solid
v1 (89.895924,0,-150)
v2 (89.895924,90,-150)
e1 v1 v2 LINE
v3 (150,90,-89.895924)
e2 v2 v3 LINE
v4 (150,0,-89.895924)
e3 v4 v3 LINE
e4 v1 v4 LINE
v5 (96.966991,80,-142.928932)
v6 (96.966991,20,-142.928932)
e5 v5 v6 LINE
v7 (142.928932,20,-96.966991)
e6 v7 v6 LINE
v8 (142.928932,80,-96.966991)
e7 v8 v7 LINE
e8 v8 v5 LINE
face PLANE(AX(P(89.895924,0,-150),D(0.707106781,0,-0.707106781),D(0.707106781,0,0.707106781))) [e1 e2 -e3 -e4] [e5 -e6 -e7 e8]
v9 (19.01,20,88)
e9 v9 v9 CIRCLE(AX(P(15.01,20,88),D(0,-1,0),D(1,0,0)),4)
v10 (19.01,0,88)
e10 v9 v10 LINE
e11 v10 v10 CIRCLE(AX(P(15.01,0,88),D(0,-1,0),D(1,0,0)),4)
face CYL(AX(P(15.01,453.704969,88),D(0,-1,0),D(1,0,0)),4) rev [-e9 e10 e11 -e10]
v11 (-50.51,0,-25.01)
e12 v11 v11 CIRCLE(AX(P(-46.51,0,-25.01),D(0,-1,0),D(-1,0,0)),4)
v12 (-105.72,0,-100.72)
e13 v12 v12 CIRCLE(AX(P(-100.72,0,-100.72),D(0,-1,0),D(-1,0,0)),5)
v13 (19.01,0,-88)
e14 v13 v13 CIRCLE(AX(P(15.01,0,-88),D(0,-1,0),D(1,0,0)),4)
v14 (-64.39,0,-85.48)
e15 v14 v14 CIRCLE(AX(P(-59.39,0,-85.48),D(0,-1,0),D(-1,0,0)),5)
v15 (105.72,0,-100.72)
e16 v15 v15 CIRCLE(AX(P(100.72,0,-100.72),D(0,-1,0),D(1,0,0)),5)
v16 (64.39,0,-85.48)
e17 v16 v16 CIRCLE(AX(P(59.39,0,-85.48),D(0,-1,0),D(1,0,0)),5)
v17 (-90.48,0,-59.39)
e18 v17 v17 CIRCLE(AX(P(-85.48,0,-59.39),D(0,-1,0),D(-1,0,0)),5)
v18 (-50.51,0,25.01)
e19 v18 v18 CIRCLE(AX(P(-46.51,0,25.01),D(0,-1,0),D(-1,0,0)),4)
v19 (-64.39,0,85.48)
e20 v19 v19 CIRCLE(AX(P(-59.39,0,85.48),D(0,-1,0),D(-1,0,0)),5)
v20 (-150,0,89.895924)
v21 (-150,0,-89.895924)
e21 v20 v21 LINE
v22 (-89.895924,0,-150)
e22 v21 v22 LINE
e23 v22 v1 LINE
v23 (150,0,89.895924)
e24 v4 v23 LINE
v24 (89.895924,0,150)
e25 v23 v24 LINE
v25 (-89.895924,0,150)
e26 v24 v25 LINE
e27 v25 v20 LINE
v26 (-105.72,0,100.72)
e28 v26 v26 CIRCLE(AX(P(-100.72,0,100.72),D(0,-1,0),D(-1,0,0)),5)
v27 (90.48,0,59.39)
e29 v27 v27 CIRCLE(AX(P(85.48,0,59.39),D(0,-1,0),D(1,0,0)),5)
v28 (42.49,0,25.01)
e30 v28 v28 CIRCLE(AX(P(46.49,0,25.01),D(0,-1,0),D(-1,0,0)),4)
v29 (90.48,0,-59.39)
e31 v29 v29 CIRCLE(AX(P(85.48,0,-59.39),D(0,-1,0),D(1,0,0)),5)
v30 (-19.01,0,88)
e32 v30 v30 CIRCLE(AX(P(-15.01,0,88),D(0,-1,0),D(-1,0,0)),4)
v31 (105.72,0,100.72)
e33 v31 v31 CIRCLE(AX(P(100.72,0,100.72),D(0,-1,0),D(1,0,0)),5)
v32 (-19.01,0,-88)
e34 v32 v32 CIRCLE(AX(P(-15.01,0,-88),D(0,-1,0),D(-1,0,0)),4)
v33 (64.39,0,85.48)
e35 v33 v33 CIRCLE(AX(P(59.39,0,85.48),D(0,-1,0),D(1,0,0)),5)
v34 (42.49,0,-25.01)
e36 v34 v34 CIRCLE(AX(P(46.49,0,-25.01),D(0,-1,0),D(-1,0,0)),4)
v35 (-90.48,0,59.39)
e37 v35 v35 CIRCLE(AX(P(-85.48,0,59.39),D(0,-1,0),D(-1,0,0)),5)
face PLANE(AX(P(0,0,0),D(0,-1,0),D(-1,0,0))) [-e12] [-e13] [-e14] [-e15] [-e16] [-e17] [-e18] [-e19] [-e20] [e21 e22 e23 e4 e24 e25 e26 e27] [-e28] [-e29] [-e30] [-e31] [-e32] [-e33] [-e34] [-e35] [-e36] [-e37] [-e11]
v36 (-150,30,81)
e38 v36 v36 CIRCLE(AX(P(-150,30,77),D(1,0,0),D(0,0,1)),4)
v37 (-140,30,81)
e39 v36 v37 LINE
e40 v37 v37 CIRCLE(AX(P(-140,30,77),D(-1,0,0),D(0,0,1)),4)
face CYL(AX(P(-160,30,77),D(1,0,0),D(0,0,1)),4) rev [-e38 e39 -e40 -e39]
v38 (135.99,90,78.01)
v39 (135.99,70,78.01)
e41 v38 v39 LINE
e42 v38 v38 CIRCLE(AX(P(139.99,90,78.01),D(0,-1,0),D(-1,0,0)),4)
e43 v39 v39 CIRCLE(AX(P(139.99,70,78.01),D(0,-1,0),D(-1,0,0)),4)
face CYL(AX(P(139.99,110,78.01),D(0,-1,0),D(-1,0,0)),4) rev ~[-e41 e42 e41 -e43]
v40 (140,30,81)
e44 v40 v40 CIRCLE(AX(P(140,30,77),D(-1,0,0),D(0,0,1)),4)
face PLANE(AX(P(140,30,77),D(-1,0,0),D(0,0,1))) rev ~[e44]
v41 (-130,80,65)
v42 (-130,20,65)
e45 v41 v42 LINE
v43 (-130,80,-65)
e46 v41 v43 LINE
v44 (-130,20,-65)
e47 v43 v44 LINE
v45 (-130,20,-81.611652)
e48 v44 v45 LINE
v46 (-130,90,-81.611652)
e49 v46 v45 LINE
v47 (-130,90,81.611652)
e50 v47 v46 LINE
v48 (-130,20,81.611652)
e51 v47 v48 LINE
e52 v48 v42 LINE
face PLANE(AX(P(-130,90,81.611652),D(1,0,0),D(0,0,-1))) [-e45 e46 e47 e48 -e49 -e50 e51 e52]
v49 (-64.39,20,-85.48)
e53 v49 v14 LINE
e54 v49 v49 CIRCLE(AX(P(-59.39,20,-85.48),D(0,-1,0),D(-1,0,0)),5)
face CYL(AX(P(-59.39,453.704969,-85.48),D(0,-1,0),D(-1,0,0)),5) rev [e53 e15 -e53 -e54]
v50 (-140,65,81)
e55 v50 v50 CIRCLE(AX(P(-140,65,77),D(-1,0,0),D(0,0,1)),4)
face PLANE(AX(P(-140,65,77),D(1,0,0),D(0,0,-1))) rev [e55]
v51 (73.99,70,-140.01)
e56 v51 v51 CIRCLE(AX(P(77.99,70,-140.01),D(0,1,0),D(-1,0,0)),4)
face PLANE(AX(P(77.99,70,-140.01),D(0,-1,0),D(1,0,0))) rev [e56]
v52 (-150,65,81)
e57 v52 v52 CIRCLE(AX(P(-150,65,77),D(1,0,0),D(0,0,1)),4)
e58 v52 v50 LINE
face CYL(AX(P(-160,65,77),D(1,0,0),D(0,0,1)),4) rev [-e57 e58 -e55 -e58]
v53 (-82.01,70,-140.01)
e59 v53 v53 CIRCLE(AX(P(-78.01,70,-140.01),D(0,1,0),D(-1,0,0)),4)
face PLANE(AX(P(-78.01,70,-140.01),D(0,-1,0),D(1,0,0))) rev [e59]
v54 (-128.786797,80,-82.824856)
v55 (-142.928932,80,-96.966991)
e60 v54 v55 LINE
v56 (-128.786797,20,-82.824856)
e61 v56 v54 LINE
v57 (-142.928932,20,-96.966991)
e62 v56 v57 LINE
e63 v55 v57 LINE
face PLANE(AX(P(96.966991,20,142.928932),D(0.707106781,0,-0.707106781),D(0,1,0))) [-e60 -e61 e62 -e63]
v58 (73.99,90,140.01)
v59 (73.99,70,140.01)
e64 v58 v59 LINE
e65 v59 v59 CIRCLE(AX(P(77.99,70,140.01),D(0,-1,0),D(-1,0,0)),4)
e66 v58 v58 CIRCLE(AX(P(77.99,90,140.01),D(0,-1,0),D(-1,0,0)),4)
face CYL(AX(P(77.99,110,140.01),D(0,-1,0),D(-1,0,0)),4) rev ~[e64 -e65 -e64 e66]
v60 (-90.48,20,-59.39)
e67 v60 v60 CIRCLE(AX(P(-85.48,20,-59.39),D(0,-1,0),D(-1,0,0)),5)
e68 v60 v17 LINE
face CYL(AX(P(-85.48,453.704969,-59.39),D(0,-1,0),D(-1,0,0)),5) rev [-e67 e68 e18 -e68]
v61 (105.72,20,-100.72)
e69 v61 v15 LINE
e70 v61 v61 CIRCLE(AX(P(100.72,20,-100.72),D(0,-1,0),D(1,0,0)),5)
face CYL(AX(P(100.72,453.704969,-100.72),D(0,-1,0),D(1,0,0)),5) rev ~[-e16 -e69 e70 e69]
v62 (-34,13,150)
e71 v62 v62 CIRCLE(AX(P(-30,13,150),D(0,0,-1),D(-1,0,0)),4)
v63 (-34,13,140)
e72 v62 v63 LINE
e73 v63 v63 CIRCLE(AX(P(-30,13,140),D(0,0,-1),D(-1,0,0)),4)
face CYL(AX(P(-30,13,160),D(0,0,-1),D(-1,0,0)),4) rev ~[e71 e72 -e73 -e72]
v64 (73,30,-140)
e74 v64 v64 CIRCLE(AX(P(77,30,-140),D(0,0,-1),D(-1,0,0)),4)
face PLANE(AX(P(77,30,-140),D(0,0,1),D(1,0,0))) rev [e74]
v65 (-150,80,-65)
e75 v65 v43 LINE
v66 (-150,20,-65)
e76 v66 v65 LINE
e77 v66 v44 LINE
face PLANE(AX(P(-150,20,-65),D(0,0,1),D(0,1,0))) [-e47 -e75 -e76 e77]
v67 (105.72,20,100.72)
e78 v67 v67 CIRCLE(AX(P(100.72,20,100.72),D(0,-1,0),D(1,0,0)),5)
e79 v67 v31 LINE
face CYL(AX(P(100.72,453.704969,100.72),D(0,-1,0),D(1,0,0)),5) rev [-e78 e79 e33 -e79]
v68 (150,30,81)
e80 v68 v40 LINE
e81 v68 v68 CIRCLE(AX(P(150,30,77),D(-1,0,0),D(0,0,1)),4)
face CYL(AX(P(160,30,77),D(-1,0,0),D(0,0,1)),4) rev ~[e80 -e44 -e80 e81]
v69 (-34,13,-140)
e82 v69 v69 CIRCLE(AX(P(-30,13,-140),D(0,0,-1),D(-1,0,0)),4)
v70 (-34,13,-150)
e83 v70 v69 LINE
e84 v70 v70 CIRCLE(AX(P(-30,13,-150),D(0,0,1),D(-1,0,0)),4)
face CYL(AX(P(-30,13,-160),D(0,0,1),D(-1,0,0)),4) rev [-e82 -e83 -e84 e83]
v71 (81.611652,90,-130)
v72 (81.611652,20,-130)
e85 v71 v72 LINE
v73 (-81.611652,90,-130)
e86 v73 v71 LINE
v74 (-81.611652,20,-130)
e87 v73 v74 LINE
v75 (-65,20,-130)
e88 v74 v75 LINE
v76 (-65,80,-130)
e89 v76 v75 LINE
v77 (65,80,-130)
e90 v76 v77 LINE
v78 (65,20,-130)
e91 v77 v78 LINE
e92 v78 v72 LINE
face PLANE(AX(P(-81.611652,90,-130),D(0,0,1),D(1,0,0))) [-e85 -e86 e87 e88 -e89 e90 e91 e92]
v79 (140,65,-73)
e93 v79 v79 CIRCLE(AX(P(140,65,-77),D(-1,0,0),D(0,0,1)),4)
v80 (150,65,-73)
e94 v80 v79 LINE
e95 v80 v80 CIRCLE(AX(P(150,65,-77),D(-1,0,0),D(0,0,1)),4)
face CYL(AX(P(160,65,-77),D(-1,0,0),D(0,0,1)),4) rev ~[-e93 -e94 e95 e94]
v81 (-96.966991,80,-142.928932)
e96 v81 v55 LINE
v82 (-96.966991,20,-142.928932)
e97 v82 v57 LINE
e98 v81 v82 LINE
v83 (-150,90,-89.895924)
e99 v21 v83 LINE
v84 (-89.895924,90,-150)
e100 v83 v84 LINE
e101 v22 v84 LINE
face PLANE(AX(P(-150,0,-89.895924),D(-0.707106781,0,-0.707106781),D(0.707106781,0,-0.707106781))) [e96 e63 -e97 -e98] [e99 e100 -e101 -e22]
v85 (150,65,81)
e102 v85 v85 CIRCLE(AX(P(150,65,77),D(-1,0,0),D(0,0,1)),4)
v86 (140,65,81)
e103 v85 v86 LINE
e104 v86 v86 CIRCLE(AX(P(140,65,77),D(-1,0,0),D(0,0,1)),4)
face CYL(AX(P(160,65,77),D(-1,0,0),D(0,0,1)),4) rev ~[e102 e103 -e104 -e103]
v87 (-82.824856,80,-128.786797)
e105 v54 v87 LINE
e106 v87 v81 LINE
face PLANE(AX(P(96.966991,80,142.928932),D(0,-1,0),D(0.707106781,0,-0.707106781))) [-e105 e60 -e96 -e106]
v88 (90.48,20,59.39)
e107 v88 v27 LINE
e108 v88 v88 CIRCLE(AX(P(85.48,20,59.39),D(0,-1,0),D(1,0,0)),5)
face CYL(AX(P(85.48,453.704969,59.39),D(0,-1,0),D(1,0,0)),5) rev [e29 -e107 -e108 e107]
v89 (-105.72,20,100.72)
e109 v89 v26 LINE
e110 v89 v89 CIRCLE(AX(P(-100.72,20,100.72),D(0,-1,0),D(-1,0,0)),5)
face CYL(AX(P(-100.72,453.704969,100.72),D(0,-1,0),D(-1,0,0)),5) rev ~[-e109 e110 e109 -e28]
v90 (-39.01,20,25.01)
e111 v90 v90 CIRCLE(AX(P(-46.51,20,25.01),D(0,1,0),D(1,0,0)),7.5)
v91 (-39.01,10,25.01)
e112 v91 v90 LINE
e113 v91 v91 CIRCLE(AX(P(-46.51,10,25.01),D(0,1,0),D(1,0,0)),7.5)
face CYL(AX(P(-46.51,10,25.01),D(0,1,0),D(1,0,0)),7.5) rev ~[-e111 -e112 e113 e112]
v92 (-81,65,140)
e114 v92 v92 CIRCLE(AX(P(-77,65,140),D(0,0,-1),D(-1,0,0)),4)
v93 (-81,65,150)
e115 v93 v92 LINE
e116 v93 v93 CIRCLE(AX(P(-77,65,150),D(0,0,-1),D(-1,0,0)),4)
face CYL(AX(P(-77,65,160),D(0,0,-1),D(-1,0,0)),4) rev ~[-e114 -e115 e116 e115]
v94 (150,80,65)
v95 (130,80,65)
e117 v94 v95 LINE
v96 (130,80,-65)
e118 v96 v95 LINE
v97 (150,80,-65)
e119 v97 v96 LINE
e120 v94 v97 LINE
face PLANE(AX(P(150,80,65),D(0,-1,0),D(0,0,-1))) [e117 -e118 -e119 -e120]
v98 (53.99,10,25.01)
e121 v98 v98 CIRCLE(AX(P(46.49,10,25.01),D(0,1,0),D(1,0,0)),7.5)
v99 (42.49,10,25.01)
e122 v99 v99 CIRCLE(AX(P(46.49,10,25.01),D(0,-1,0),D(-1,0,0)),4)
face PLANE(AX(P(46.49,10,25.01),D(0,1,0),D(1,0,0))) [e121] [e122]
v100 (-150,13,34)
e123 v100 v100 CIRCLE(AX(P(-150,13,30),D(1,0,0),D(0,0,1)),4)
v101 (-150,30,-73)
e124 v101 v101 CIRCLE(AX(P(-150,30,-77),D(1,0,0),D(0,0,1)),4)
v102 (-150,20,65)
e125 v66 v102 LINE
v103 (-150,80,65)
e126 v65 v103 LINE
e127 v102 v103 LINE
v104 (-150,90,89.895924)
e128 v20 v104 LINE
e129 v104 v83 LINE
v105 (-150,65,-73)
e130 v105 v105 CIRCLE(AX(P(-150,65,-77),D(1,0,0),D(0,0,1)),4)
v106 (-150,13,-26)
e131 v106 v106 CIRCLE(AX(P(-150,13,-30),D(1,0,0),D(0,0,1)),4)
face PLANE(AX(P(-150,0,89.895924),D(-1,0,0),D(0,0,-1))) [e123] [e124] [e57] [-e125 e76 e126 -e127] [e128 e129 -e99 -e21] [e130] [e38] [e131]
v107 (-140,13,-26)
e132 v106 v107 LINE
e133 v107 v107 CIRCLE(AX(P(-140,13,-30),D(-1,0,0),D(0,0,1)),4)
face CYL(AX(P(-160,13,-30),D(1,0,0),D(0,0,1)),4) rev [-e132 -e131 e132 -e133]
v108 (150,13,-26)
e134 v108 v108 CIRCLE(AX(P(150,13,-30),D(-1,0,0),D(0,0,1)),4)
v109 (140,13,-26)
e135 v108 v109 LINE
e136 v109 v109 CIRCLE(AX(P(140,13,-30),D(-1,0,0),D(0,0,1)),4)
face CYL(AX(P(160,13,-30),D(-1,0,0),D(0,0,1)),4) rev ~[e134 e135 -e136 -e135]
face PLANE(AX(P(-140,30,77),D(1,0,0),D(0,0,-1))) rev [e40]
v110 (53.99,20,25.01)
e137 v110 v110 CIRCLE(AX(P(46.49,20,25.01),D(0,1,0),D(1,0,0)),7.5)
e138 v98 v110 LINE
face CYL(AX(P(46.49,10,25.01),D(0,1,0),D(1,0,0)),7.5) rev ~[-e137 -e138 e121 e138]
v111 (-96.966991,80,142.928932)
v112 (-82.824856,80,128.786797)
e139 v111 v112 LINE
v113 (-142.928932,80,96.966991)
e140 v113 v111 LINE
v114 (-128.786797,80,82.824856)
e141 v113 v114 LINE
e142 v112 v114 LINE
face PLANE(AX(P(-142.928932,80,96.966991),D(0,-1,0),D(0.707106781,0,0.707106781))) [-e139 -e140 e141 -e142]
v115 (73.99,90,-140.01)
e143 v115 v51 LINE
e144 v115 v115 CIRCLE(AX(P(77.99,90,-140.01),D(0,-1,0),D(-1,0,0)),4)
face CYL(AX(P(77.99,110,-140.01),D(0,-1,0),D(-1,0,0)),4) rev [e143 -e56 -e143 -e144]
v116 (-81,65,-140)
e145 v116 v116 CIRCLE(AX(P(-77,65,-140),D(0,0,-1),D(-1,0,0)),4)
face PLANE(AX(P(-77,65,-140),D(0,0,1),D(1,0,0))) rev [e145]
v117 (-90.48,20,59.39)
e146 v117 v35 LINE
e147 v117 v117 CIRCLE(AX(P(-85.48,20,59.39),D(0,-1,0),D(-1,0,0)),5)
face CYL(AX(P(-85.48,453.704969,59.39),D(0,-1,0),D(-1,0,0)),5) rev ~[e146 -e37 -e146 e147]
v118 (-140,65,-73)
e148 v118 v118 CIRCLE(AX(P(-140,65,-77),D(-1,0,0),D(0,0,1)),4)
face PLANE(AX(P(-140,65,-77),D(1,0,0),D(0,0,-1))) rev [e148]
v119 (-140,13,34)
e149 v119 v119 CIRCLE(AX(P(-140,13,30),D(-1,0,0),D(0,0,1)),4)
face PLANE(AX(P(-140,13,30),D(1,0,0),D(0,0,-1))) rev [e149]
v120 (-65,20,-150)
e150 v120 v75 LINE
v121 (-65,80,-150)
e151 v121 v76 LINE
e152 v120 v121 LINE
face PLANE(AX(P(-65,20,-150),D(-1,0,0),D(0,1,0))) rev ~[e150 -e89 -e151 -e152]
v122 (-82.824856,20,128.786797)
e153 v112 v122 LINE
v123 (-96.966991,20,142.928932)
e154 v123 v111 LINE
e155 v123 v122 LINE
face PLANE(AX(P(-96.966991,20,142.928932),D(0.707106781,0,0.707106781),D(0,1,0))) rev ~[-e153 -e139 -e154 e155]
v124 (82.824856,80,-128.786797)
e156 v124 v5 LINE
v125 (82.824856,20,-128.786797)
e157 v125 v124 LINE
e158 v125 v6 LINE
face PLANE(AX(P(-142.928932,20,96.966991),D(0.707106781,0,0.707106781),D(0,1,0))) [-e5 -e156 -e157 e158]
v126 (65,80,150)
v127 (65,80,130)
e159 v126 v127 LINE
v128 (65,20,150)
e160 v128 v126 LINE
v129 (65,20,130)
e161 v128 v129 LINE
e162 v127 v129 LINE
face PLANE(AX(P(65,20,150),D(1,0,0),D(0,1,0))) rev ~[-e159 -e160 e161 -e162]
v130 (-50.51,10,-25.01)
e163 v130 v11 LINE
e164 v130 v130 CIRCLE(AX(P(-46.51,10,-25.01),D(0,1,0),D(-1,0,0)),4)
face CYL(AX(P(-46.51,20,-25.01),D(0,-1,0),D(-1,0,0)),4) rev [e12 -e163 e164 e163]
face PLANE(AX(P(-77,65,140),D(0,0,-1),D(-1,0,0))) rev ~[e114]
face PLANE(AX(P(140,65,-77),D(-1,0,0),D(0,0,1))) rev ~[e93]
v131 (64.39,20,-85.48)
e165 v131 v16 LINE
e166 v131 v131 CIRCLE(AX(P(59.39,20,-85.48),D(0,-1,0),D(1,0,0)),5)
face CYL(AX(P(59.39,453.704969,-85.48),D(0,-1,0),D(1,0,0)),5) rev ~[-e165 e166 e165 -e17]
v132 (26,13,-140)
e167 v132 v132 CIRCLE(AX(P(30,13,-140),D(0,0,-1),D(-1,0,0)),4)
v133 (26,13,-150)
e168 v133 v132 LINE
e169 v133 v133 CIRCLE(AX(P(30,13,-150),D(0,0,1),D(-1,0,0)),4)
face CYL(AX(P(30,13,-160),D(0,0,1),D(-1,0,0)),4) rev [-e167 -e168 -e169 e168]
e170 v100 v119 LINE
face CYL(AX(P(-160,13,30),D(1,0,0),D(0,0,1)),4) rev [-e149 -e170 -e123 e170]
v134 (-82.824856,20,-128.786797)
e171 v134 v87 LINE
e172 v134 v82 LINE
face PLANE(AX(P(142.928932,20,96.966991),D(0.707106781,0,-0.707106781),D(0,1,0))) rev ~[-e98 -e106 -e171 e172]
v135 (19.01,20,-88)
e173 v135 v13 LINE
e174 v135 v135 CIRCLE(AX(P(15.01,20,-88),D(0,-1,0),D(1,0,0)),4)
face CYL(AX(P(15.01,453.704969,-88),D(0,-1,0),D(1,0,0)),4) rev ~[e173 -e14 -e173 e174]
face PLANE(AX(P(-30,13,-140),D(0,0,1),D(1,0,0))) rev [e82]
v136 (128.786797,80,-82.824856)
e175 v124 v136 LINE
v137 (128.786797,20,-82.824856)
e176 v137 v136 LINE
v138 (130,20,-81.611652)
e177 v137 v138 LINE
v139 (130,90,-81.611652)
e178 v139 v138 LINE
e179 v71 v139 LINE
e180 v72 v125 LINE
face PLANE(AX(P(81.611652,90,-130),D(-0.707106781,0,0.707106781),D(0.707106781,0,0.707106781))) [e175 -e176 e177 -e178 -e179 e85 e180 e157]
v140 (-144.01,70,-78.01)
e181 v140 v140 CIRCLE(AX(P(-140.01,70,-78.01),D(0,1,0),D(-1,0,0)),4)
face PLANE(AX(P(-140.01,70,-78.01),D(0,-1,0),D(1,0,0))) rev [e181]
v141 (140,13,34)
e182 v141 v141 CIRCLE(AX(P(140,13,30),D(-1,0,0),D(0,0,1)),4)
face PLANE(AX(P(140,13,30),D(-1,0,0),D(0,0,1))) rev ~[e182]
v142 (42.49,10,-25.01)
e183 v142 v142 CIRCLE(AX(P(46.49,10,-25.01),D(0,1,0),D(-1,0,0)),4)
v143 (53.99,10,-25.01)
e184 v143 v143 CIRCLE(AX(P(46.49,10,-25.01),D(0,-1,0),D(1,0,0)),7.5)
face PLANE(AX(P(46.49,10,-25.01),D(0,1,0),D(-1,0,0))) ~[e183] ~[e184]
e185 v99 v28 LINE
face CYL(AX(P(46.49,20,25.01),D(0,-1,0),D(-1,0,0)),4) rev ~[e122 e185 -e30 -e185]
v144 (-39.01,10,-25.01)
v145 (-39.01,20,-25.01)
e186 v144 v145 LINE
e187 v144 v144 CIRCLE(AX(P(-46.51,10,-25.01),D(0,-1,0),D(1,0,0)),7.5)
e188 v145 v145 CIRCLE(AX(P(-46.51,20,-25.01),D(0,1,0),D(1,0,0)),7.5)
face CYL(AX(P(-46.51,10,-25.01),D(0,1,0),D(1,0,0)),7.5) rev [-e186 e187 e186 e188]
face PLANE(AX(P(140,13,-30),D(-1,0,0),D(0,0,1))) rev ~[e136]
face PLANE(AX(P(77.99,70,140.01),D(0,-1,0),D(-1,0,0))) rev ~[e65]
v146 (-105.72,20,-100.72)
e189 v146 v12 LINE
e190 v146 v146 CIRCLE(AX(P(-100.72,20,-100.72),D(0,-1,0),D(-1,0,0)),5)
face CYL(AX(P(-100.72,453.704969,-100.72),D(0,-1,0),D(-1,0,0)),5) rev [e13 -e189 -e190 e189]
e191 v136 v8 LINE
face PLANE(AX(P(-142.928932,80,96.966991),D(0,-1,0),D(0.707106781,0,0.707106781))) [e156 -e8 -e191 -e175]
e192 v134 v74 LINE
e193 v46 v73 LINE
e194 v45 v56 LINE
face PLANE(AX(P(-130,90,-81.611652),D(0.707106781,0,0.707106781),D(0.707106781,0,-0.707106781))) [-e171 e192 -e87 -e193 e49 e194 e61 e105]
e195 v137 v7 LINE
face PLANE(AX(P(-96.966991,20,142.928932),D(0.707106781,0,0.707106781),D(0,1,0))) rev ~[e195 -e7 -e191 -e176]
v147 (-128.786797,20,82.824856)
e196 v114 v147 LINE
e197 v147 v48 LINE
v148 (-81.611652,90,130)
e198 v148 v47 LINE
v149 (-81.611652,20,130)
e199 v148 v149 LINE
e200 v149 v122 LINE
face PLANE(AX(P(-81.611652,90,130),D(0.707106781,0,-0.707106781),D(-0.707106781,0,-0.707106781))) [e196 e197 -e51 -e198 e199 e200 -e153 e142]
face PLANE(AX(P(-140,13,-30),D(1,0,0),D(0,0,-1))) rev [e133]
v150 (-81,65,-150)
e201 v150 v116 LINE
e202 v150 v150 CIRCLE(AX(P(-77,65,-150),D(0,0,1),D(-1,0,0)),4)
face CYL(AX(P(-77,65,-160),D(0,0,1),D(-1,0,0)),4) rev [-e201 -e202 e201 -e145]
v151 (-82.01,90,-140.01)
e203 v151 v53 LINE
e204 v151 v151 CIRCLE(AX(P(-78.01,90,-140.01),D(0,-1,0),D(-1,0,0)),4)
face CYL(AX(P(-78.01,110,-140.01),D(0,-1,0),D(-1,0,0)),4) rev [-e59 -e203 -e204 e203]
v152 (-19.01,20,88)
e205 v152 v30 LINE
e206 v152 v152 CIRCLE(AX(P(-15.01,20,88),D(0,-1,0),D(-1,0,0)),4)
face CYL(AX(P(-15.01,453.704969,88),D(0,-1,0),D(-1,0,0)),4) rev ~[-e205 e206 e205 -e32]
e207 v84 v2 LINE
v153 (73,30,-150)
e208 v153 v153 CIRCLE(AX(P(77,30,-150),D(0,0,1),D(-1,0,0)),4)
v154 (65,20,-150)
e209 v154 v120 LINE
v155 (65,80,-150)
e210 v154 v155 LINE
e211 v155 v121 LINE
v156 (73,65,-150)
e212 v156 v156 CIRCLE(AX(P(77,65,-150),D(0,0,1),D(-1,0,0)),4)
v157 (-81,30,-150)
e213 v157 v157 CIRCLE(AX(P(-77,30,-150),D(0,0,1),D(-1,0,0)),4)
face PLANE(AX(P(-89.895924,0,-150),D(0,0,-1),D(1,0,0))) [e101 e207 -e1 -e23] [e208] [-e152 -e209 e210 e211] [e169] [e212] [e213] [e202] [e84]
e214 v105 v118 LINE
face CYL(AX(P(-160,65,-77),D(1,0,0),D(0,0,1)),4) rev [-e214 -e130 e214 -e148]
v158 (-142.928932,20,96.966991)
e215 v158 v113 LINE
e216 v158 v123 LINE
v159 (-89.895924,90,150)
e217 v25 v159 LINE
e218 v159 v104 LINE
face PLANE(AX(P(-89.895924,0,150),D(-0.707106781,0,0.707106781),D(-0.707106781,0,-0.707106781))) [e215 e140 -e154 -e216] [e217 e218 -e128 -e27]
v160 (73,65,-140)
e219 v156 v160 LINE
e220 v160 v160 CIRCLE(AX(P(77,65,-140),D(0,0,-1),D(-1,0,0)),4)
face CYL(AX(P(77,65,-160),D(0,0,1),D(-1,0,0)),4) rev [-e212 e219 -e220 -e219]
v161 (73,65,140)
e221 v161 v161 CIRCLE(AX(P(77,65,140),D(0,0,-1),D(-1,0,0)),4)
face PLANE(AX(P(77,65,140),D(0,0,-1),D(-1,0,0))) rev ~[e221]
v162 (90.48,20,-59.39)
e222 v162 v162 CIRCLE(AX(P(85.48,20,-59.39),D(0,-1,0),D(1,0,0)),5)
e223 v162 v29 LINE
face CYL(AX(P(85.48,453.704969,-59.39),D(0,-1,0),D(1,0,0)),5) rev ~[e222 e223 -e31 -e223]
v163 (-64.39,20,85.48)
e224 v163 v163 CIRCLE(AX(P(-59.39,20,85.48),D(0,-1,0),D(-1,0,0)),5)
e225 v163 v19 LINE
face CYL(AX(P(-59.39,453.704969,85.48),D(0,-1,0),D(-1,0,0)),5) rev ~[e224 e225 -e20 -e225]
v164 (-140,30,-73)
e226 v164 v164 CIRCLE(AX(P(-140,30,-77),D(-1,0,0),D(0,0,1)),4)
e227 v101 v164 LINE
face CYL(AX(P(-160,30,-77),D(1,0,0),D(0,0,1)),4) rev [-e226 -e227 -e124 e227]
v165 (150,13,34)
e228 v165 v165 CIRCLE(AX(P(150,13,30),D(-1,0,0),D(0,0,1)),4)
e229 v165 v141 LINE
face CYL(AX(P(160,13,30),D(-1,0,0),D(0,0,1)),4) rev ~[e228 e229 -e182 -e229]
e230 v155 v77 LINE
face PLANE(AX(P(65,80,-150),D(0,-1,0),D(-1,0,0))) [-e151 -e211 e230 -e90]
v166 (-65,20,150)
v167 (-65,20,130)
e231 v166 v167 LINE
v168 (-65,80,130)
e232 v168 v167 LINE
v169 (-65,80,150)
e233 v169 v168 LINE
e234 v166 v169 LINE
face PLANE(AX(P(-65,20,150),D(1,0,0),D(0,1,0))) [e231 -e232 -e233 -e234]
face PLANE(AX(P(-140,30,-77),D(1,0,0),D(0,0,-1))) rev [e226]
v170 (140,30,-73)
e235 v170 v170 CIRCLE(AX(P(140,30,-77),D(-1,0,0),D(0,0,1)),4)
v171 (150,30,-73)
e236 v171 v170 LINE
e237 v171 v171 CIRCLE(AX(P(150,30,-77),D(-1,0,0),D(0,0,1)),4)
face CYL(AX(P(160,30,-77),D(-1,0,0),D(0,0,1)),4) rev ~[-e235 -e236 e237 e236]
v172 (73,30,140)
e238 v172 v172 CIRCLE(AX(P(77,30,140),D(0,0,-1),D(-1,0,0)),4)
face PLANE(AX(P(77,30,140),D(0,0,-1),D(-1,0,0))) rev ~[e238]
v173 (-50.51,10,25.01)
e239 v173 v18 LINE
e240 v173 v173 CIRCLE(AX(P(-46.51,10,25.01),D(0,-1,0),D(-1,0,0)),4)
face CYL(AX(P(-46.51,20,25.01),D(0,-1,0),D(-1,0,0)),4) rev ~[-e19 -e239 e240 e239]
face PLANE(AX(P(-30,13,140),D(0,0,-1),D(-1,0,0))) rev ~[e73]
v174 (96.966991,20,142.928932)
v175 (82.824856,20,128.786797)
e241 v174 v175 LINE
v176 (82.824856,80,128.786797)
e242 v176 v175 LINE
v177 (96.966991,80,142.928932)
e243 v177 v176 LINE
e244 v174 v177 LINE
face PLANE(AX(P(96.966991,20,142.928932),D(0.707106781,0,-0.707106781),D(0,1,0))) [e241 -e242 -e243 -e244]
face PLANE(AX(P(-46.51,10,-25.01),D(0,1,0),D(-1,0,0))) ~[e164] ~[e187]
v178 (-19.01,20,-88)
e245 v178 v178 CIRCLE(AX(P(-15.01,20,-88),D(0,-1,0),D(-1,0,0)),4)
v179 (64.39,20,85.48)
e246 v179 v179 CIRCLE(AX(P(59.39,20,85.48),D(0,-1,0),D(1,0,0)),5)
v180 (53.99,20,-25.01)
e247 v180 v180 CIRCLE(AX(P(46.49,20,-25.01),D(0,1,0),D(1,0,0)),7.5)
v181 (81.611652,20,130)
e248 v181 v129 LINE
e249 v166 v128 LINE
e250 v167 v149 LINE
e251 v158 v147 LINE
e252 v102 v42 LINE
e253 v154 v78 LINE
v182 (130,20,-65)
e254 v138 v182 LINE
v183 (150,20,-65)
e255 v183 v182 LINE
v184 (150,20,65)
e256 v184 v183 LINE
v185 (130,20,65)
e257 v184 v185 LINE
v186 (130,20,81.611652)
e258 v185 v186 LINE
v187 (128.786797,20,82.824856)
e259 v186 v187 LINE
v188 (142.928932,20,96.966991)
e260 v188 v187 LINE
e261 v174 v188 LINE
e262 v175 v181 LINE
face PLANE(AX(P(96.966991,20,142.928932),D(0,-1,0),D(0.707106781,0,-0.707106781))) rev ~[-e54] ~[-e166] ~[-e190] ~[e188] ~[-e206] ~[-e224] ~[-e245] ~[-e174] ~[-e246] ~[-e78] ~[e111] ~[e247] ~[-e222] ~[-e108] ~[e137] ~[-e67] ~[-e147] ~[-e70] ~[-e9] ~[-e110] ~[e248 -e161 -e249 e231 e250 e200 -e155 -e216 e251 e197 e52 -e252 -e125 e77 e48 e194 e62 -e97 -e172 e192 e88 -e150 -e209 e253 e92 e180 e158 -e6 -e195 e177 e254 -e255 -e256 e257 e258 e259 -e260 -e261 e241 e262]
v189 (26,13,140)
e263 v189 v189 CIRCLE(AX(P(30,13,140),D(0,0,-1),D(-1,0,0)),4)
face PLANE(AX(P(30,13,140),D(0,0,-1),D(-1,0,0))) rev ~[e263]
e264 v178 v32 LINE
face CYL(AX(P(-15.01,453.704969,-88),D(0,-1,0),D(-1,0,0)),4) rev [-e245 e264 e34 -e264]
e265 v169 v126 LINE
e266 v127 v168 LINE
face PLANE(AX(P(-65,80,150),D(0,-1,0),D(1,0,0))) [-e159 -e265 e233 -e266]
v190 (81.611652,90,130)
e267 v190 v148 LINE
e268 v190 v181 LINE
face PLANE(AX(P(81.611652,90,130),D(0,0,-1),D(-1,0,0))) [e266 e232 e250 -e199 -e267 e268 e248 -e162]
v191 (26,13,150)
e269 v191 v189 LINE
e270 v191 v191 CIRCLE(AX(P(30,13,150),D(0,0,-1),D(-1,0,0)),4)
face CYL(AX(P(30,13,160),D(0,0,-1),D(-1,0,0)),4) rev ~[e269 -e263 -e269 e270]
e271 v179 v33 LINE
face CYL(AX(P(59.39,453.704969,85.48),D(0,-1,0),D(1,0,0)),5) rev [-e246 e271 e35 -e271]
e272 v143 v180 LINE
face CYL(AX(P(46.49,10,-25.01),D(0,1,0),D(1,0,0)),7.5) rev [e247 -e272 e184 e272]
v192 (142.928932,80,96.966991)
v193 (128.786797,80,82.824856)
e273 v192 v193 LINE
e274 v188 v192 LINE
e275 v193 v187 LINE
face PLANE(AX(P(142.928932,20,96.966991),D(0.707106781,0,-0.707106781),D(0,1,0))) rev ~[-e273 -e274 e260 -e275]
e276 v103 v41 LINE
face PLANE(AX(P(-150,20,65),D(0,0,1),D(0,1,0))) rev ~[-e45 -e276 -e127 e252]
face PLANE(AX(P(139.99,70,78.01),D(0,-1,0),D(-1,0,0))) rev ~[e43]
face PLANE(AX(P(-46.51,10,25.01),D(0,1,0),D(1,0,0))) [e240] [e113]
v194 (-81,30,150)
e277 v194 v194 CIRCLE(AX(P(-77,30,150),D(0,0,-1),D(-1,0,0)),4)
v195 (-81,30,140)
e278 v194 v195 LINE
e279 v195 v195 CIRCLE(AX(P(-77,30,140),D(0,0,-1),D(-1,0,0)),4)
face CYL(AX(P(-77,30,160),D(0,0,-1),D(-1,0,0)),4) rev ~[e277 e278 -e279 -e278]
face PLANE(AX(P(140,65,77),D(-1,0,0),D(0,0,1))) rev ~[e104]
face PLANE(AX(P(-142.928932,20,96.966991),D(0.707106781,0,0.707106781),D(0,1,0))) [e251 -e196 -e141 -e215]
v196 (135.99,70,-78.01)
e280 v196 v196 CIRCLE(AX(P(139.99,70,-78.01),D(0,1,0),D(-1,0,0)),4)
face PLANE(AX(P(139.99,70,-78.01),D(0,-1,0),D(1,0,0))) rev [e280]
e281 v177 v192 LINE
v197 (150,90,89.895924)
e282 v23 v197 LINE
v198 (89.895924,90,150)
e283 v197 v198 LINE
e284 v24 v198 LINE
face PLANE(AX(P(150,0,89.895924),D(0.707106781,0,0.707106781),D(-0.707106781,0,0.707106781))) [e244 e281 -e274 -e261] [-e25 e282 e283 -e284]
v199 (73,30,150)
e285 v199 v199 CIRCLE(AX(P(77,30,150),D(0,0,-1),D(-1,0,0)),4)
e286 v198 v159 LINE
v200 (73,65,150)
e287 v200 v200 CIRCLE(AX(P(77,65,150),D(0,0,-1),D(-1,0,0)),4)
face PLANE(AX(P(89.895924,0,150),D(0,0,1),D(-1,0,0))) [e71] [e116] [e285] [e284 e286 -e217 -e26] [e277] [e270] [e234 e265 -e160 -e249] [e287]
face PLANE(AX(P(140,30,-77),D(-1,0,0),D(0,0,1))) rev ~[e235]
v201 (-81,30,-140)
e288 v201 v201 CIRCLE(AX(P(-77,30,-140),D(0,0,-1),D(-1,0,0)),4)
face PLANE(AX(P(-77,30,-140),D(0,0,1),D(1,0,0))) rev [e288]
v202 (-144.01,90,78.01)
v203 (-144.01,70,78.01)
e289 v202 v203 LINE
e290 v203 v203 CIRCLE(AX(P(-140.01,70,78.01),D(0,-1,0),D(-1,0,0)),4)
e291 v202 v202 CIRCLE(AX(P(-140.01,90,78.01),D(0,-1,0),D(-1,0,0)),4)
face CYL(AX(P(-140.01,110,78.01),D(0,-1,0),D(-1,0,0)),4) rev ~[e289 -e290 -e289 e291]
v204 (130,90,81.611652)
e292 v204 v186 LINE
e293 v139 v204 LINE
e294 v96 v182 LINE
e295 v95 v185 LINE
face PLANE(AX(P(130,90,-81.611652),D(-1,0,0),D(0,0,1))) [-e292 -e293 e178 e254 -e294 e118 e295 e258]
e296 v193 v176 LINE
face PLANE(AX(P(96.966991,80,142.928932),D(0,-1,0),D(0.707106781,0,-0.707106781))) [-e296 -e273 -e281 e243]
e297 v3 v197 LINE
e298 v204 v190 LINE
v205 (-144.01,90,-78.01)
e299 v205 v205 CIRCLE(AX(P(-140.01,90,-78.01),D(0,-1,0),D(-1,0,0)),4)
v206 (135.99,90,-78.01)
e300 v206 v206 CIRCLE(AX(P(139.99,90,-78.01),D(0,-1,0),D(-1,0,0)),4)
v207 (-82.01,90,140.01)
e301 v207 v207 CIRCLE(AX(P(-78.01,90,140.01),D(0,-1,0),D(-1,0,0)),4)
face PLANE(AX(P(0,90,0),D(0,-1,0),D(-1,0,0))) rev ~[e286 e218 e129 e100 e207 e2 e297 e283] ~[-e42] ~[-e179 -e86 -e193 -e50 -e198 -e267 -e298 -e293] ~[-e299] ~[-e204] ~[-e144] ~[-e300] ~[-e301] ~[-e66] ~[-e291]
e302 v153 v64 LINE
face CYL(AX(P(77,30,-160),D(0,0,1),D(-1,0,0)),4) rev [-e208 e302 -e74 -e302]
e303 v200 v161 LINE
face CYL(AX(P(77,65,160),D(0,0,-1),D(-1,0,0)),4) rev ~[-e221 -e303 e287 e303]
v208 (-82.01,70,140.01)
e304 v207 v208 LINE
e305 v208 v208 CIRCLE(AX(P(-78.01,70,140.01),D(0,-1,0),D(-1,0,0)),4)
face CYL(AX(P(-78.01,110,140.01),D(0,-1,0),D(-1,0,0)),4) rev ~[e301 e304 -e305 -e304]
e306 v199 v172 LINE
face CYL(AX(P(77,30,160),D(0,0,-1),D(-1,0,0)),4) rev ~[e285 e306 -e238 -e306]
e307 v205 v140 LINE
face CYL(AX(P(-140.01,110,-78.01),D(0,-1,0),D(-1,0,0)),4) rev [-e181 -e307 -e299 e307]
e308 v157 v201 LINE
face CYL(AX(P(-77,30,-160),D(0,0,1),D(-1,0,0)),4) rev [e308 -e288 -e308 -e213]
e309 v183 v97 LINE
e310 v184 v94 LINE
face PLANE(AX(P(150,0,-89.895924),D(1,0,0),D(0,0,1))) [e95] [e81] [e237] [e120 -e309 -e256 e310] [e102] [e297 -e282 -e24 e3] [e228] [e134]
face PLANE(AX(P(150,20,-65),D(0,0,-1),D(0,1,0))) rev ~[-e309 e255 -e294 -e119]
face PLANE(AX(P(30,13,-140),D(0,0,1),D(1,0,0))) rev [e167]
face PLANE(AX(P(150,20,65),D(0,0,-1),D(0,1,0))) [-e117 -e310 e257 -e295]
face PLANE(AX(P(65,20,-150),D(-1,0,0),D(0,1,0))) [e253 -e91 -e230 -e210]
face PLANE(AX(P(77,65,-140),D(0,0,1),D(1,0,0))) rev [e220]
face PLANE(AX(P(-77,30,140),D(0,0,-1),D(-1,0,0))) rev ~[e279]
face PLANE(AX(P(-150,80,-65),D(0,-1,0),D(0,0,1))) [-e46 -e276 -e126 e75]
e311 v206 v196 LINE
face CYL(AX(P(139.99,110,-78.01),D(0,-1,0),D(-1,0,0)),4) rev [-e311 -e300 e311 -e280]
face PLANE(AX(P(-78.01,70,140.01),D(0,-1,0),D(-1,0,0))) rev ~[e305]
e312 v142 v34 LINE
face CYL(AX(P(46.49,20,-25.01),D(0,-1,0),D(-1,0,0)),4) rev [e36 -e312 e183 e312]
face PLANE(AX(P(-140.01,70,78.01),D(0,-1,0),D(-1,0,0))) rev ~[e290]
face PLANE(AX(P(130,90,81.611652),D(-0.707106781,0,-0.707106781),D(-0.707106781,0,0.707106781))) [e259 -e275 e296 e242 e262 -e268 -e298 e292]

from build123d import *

# Parameters (mm, degrees)
BOSS_EXTRUDE1_DEPTH                     = 90
CUT_EXTRUDE2_DEPTH                      = 70
SKETCH6_W                               = 130
SKETCH6_H                               = 60
CUT_EXTRUDE3_DEPTH                      = 70
CIRPATTERN1_COUNT                       = 4
SKETCH7_W                               = 65
SKETCH7_H                               = 60
CUT_EXTRUDE4_DEPTH                      = 382.764068712
CIRPATTERN2_COUNT                       = 4
F_1_0MM_DOWEL_HOLE1_D                   = 10
F_1_0MM_DOWEL_HOLE2_D                   = 8
MIRROR2_COPY_1_D                        = 10
MIRROR2_COPY_2_D                        = 8
CBORE_FOR_M5_HEX_HEAD_BOLT1_D           = 8
CBORE_FOR_M5_HEX_HEAD_BOLT1_CBORE_D     = 15
CBORE_FOR_M5_HEX_HEAD_BOLT1_CBORE_DEPTH = 10
F_1_0MM_DOWEL_HOLE5_D                   = 8
F_1_0MM_DOWEL_HOLE5_DEPTH               = 20
F_1_0MM_DOWEL_HOLE10_D                  = 8
F_1_0MM_DOWEL_HOLE10_DEPTH              = 10
F_1_0MM_DOWEL_HOLE11_D                  = 8
F_1_0MM_DOWEL_HOLE11_DEPTH              = 10


with BuildPart() as part:
    # Sketch1 → Boss-Extrude1 (new body)
    with BuildSketch(Plane(origin=(0, 0, 0), x_dir=(1, 0, 0), z_dir=(0, 1, 0))):
        Polygon((-150, 89.895923599), (-89.895923599, 150), (89.895923599, 150), (150, 89.895923599), (150, -89.895923599), (89.895923599, -150), (-89.895923599, -150), (-150, -89.895923599), align=None)
    extrude(amount=BOSS_EXTRUDE1_DEPTH)

    # Sketch2 → Cut-Extrude2 (cut)
    with BuildSketch(Plane(origin=(0, 90, 0), x_dir=(1, 0, 0), z_dir=(0, 1, 0))):
        Polygon((-130, -81.611652352), (-130, 81.611652352), (-81.611652352, 130), (81.611652352, 130), (130, 81.611652352), (130, -81.611652352), (81.611652352, -130), (-81.611652352, -130), align=None)
    extrude(amount=-CUT_EXTRUDE2_DEPTH, mode=Mode.SUBTRACT)

    # Sketch6 → Cut-Extrude3 (cut)
    with BuildSketch(Plane(origin=(150, 0, 0), x_dir=(0, 0, -1), z_dir=(1, 0, 0))):
        with Locations((0, 50)):
            Rectangle(SKETCH6_W, SKETCH6_H)
    cut_extrude3 = extrude(amount=-CUT_EXTRUDE3_DEPTH, mode=Mode.SUBTRACT)

    # CirPattern1: Cut-Extrude3 ×4 about axis
    cirpattern1_axis = Axis((0, 0, 0), (0, 1, 0))
    for i in range(1, CIRPATTERN1_COUNT):
        add(cut_extrude3.rotate(cirpattern1_axis, i * 360 / CIRPATTERN1_COUNT), mode=Mode.SUBTRACT)

    # Sketch7 → Cut-Extrude4 (cut, through all)
    with BuildSketch(Plane(origin=(119.9479618, 0, 119.9479618), x_dir=(0.707106781, 0, -0.707106781), z_dir=(0.707106781, 0, 0.707106781))):
        with Locations((0, 50)):
            Rectangle(SKETCH7_W, SKETCH7_H)
    cut_extrude4 = extrude(amount=-CUT_EXTRUDE4_DEPTH, mode=Mode.SUBTRACT)

    # CirPattern2: Cut-Extrude4 ×4 about axis
    cirpattern2_axis = Axis((0, 20, 0), (0, -1, 0))
    for i in range(1, CIRPATTERN2_COUNT):
        add(cut_extrude4.rotate(cirpattern2_axis, i * 360 / CIRPATTERN2_COUNT), mode=Mode.SUBTRACT)

    # Ø1.0mm Dowel Hole1 (through all)
    with Locations(Plane(origin=(0, 20, 0), x_dir=(1, 0, 0), z_dir=(0, 1, 0))):
        with Locations((-100.72, -100.72), (-85.48, -59.39), (-59.39, -85.48)):
            f_1_0mm_dowel_hole1 = Hole(F_1_0MM_DOWEL_HOLE1_D / 2)

    # Ø1.0mm Dowel Hole2 (through all)
    with Locations(Plane(origin=(0, 20, 0), x_dir=(1, 0, 0), z_dir=(0, 1, 0))):
        with Locations((-15.01, -88)):
            f_1_0mm_dowel_hole2 = Hole(F_1_0MM_DOWEL_HOLE2_D / 2)

    # Mirror1: Ø1.0mm Dowel Hole1, Ø1.0mm Dowel Hole2 across plane
    add(f_1_0mm_dowel_hole1.mirror(Plane.XY), mode=Mode.SUBTRACT)
    add(f_1_0mm_dowel_hole2.mirror(Plane.XY), mode=Mode.SUBTRACT)

    # Mirror2: Ø1.0mm Dowel Hole1, Ø1.0mm Dowel Hole2 across plane
    add(f_1_0mm_dowel_hole1.mirror(Plane(origin=(0, 0, 0), x_dir=(0, 0, 1), z_dir=(1, 0, 0))), mode=Mode.SUBTRACT)
    add(f_1_0mm_dowel_hole2.mirror(Plane(origin=(0, 0, 0), x_dir=(0, 0, 1), z_dir=(1, 0, 0))), mode=Mode.SUBTRACT)

    # Mirror2 copy 1 (through all)
    with Locations(Plane(origin=(0, 20, 0), x_dir=(-1, 0, 0), z_dir=(0, 1, 0))):
        with Locations((-100.72, -100.72), (-85.48, -59.39), (-59.39, -85.48)):
            Hole(MIRROR2_COPY_1_D / 2)

    # Mirror2 copy 2 (through all)
    with Locations(Plane(origin=(0, 20, 0), x_dir=(-1, 0, 0), z_dir=(0, 1, 0))):
        with Locations((-15.01, -88)):
            Hole(MIRROR2_COPY_2_D / 2)

    # CBORE for M5 Hex Head Bolt1 (through all)
    with Locations(Plane(origin=(0, 20, 0), x_dir=(1, 0, 0), z_dir=(0, 1, 0))):
        with Locations((-46.51, -25.01), (46.49, -25.01)):
            cbore_for_m5_hex_head_bolt1 = CounterBoreHole(CBORE_FOR_M5_HEX_HEAD_BOLT1_D / 2, CBORE_FOR_M5_HEX_HEAD_BOLT1_CBORE_D / 2, CBORE_FOR_M5_HEX_HEAD_BOLT1_CBORE_DEPTH)

    # Mirror3: CBORE for M5 Hex Head Bolt1 across plane
    add(cbore_for_m5_hex_head_bolt1.mirror(Plane.XY), mode=Mode.SUBTRACT)

    # Ø1.0mm Dowel Hole5
    with Locations(Plane(origin=(0, 90, 0), x_dir=(1, 0, 0), z_dir=(0, 1, 0))):
        with Locations((-140.01, -78.01), (-78.01, -140.01), (77.99, -140.01), (139.99, -78.01)):
            f_1_0mm_dowel_hole5 = Hole(F_1_0MM_DOWEL_HOLE5_D / 2, depth=F_1_0MM_DOWEL_HOLE5_DEPTH)

    # Mirror4: Ø1.0mm Dowel Hole5 across plane
    add(f_1_0mm_dowel_hole5.mirror(Plane.XY), mode=Mode.SUBTRACT)

    # Ø1.0mm Dowel Hole10
    with Locations(Plane(origin=(150, 0, 0), x_dir=(0, 0, -1), z_dir=(1, 0, 0))):
        with Locations((-77, 65), (-77, 30), (-30, 13), (30, 13), (77, 30), (77, 65)):
            f_1_0mm_dowel_hole10 = Hole(F_1_0MM_DOWEL_HOLE10_D / 2, depth=F_1_0MM_DOWEL_HOLE10_DEPTH)

    # Mirror5: Ø1.0mm Dowel Hole10 across plane
    add(f_1_0mm_dowel_hole10.mirror(Plane(origin=(0, 0, 0), x_dir=(0, 0, 1), z_dir=(1, 0, 0))), mode=Mode.SUBTRACT)

    # Ø1.0mm Dowel Hole11
    with Locations(Plane.XY.offset(150)):
        with Locations((-77, 65), (-77, 30), (-30, 13), (30, 13), (77, 30), (77, 65)):
            f_1_0mm_dowel_hole11 = Hole(F_1_0MM_DOWEL_HOLE11_D / 2, depth=F_1_0MM_DOWEL_HOLE11_DEPTH)

    # Mirror6: Ø1.0mm Dowel Hole11 across plane
    add(f_1_0mm_dowel_hole11.mirror(Plane.XY), mode=Mode.SUBTRACT)


solid = part.part
